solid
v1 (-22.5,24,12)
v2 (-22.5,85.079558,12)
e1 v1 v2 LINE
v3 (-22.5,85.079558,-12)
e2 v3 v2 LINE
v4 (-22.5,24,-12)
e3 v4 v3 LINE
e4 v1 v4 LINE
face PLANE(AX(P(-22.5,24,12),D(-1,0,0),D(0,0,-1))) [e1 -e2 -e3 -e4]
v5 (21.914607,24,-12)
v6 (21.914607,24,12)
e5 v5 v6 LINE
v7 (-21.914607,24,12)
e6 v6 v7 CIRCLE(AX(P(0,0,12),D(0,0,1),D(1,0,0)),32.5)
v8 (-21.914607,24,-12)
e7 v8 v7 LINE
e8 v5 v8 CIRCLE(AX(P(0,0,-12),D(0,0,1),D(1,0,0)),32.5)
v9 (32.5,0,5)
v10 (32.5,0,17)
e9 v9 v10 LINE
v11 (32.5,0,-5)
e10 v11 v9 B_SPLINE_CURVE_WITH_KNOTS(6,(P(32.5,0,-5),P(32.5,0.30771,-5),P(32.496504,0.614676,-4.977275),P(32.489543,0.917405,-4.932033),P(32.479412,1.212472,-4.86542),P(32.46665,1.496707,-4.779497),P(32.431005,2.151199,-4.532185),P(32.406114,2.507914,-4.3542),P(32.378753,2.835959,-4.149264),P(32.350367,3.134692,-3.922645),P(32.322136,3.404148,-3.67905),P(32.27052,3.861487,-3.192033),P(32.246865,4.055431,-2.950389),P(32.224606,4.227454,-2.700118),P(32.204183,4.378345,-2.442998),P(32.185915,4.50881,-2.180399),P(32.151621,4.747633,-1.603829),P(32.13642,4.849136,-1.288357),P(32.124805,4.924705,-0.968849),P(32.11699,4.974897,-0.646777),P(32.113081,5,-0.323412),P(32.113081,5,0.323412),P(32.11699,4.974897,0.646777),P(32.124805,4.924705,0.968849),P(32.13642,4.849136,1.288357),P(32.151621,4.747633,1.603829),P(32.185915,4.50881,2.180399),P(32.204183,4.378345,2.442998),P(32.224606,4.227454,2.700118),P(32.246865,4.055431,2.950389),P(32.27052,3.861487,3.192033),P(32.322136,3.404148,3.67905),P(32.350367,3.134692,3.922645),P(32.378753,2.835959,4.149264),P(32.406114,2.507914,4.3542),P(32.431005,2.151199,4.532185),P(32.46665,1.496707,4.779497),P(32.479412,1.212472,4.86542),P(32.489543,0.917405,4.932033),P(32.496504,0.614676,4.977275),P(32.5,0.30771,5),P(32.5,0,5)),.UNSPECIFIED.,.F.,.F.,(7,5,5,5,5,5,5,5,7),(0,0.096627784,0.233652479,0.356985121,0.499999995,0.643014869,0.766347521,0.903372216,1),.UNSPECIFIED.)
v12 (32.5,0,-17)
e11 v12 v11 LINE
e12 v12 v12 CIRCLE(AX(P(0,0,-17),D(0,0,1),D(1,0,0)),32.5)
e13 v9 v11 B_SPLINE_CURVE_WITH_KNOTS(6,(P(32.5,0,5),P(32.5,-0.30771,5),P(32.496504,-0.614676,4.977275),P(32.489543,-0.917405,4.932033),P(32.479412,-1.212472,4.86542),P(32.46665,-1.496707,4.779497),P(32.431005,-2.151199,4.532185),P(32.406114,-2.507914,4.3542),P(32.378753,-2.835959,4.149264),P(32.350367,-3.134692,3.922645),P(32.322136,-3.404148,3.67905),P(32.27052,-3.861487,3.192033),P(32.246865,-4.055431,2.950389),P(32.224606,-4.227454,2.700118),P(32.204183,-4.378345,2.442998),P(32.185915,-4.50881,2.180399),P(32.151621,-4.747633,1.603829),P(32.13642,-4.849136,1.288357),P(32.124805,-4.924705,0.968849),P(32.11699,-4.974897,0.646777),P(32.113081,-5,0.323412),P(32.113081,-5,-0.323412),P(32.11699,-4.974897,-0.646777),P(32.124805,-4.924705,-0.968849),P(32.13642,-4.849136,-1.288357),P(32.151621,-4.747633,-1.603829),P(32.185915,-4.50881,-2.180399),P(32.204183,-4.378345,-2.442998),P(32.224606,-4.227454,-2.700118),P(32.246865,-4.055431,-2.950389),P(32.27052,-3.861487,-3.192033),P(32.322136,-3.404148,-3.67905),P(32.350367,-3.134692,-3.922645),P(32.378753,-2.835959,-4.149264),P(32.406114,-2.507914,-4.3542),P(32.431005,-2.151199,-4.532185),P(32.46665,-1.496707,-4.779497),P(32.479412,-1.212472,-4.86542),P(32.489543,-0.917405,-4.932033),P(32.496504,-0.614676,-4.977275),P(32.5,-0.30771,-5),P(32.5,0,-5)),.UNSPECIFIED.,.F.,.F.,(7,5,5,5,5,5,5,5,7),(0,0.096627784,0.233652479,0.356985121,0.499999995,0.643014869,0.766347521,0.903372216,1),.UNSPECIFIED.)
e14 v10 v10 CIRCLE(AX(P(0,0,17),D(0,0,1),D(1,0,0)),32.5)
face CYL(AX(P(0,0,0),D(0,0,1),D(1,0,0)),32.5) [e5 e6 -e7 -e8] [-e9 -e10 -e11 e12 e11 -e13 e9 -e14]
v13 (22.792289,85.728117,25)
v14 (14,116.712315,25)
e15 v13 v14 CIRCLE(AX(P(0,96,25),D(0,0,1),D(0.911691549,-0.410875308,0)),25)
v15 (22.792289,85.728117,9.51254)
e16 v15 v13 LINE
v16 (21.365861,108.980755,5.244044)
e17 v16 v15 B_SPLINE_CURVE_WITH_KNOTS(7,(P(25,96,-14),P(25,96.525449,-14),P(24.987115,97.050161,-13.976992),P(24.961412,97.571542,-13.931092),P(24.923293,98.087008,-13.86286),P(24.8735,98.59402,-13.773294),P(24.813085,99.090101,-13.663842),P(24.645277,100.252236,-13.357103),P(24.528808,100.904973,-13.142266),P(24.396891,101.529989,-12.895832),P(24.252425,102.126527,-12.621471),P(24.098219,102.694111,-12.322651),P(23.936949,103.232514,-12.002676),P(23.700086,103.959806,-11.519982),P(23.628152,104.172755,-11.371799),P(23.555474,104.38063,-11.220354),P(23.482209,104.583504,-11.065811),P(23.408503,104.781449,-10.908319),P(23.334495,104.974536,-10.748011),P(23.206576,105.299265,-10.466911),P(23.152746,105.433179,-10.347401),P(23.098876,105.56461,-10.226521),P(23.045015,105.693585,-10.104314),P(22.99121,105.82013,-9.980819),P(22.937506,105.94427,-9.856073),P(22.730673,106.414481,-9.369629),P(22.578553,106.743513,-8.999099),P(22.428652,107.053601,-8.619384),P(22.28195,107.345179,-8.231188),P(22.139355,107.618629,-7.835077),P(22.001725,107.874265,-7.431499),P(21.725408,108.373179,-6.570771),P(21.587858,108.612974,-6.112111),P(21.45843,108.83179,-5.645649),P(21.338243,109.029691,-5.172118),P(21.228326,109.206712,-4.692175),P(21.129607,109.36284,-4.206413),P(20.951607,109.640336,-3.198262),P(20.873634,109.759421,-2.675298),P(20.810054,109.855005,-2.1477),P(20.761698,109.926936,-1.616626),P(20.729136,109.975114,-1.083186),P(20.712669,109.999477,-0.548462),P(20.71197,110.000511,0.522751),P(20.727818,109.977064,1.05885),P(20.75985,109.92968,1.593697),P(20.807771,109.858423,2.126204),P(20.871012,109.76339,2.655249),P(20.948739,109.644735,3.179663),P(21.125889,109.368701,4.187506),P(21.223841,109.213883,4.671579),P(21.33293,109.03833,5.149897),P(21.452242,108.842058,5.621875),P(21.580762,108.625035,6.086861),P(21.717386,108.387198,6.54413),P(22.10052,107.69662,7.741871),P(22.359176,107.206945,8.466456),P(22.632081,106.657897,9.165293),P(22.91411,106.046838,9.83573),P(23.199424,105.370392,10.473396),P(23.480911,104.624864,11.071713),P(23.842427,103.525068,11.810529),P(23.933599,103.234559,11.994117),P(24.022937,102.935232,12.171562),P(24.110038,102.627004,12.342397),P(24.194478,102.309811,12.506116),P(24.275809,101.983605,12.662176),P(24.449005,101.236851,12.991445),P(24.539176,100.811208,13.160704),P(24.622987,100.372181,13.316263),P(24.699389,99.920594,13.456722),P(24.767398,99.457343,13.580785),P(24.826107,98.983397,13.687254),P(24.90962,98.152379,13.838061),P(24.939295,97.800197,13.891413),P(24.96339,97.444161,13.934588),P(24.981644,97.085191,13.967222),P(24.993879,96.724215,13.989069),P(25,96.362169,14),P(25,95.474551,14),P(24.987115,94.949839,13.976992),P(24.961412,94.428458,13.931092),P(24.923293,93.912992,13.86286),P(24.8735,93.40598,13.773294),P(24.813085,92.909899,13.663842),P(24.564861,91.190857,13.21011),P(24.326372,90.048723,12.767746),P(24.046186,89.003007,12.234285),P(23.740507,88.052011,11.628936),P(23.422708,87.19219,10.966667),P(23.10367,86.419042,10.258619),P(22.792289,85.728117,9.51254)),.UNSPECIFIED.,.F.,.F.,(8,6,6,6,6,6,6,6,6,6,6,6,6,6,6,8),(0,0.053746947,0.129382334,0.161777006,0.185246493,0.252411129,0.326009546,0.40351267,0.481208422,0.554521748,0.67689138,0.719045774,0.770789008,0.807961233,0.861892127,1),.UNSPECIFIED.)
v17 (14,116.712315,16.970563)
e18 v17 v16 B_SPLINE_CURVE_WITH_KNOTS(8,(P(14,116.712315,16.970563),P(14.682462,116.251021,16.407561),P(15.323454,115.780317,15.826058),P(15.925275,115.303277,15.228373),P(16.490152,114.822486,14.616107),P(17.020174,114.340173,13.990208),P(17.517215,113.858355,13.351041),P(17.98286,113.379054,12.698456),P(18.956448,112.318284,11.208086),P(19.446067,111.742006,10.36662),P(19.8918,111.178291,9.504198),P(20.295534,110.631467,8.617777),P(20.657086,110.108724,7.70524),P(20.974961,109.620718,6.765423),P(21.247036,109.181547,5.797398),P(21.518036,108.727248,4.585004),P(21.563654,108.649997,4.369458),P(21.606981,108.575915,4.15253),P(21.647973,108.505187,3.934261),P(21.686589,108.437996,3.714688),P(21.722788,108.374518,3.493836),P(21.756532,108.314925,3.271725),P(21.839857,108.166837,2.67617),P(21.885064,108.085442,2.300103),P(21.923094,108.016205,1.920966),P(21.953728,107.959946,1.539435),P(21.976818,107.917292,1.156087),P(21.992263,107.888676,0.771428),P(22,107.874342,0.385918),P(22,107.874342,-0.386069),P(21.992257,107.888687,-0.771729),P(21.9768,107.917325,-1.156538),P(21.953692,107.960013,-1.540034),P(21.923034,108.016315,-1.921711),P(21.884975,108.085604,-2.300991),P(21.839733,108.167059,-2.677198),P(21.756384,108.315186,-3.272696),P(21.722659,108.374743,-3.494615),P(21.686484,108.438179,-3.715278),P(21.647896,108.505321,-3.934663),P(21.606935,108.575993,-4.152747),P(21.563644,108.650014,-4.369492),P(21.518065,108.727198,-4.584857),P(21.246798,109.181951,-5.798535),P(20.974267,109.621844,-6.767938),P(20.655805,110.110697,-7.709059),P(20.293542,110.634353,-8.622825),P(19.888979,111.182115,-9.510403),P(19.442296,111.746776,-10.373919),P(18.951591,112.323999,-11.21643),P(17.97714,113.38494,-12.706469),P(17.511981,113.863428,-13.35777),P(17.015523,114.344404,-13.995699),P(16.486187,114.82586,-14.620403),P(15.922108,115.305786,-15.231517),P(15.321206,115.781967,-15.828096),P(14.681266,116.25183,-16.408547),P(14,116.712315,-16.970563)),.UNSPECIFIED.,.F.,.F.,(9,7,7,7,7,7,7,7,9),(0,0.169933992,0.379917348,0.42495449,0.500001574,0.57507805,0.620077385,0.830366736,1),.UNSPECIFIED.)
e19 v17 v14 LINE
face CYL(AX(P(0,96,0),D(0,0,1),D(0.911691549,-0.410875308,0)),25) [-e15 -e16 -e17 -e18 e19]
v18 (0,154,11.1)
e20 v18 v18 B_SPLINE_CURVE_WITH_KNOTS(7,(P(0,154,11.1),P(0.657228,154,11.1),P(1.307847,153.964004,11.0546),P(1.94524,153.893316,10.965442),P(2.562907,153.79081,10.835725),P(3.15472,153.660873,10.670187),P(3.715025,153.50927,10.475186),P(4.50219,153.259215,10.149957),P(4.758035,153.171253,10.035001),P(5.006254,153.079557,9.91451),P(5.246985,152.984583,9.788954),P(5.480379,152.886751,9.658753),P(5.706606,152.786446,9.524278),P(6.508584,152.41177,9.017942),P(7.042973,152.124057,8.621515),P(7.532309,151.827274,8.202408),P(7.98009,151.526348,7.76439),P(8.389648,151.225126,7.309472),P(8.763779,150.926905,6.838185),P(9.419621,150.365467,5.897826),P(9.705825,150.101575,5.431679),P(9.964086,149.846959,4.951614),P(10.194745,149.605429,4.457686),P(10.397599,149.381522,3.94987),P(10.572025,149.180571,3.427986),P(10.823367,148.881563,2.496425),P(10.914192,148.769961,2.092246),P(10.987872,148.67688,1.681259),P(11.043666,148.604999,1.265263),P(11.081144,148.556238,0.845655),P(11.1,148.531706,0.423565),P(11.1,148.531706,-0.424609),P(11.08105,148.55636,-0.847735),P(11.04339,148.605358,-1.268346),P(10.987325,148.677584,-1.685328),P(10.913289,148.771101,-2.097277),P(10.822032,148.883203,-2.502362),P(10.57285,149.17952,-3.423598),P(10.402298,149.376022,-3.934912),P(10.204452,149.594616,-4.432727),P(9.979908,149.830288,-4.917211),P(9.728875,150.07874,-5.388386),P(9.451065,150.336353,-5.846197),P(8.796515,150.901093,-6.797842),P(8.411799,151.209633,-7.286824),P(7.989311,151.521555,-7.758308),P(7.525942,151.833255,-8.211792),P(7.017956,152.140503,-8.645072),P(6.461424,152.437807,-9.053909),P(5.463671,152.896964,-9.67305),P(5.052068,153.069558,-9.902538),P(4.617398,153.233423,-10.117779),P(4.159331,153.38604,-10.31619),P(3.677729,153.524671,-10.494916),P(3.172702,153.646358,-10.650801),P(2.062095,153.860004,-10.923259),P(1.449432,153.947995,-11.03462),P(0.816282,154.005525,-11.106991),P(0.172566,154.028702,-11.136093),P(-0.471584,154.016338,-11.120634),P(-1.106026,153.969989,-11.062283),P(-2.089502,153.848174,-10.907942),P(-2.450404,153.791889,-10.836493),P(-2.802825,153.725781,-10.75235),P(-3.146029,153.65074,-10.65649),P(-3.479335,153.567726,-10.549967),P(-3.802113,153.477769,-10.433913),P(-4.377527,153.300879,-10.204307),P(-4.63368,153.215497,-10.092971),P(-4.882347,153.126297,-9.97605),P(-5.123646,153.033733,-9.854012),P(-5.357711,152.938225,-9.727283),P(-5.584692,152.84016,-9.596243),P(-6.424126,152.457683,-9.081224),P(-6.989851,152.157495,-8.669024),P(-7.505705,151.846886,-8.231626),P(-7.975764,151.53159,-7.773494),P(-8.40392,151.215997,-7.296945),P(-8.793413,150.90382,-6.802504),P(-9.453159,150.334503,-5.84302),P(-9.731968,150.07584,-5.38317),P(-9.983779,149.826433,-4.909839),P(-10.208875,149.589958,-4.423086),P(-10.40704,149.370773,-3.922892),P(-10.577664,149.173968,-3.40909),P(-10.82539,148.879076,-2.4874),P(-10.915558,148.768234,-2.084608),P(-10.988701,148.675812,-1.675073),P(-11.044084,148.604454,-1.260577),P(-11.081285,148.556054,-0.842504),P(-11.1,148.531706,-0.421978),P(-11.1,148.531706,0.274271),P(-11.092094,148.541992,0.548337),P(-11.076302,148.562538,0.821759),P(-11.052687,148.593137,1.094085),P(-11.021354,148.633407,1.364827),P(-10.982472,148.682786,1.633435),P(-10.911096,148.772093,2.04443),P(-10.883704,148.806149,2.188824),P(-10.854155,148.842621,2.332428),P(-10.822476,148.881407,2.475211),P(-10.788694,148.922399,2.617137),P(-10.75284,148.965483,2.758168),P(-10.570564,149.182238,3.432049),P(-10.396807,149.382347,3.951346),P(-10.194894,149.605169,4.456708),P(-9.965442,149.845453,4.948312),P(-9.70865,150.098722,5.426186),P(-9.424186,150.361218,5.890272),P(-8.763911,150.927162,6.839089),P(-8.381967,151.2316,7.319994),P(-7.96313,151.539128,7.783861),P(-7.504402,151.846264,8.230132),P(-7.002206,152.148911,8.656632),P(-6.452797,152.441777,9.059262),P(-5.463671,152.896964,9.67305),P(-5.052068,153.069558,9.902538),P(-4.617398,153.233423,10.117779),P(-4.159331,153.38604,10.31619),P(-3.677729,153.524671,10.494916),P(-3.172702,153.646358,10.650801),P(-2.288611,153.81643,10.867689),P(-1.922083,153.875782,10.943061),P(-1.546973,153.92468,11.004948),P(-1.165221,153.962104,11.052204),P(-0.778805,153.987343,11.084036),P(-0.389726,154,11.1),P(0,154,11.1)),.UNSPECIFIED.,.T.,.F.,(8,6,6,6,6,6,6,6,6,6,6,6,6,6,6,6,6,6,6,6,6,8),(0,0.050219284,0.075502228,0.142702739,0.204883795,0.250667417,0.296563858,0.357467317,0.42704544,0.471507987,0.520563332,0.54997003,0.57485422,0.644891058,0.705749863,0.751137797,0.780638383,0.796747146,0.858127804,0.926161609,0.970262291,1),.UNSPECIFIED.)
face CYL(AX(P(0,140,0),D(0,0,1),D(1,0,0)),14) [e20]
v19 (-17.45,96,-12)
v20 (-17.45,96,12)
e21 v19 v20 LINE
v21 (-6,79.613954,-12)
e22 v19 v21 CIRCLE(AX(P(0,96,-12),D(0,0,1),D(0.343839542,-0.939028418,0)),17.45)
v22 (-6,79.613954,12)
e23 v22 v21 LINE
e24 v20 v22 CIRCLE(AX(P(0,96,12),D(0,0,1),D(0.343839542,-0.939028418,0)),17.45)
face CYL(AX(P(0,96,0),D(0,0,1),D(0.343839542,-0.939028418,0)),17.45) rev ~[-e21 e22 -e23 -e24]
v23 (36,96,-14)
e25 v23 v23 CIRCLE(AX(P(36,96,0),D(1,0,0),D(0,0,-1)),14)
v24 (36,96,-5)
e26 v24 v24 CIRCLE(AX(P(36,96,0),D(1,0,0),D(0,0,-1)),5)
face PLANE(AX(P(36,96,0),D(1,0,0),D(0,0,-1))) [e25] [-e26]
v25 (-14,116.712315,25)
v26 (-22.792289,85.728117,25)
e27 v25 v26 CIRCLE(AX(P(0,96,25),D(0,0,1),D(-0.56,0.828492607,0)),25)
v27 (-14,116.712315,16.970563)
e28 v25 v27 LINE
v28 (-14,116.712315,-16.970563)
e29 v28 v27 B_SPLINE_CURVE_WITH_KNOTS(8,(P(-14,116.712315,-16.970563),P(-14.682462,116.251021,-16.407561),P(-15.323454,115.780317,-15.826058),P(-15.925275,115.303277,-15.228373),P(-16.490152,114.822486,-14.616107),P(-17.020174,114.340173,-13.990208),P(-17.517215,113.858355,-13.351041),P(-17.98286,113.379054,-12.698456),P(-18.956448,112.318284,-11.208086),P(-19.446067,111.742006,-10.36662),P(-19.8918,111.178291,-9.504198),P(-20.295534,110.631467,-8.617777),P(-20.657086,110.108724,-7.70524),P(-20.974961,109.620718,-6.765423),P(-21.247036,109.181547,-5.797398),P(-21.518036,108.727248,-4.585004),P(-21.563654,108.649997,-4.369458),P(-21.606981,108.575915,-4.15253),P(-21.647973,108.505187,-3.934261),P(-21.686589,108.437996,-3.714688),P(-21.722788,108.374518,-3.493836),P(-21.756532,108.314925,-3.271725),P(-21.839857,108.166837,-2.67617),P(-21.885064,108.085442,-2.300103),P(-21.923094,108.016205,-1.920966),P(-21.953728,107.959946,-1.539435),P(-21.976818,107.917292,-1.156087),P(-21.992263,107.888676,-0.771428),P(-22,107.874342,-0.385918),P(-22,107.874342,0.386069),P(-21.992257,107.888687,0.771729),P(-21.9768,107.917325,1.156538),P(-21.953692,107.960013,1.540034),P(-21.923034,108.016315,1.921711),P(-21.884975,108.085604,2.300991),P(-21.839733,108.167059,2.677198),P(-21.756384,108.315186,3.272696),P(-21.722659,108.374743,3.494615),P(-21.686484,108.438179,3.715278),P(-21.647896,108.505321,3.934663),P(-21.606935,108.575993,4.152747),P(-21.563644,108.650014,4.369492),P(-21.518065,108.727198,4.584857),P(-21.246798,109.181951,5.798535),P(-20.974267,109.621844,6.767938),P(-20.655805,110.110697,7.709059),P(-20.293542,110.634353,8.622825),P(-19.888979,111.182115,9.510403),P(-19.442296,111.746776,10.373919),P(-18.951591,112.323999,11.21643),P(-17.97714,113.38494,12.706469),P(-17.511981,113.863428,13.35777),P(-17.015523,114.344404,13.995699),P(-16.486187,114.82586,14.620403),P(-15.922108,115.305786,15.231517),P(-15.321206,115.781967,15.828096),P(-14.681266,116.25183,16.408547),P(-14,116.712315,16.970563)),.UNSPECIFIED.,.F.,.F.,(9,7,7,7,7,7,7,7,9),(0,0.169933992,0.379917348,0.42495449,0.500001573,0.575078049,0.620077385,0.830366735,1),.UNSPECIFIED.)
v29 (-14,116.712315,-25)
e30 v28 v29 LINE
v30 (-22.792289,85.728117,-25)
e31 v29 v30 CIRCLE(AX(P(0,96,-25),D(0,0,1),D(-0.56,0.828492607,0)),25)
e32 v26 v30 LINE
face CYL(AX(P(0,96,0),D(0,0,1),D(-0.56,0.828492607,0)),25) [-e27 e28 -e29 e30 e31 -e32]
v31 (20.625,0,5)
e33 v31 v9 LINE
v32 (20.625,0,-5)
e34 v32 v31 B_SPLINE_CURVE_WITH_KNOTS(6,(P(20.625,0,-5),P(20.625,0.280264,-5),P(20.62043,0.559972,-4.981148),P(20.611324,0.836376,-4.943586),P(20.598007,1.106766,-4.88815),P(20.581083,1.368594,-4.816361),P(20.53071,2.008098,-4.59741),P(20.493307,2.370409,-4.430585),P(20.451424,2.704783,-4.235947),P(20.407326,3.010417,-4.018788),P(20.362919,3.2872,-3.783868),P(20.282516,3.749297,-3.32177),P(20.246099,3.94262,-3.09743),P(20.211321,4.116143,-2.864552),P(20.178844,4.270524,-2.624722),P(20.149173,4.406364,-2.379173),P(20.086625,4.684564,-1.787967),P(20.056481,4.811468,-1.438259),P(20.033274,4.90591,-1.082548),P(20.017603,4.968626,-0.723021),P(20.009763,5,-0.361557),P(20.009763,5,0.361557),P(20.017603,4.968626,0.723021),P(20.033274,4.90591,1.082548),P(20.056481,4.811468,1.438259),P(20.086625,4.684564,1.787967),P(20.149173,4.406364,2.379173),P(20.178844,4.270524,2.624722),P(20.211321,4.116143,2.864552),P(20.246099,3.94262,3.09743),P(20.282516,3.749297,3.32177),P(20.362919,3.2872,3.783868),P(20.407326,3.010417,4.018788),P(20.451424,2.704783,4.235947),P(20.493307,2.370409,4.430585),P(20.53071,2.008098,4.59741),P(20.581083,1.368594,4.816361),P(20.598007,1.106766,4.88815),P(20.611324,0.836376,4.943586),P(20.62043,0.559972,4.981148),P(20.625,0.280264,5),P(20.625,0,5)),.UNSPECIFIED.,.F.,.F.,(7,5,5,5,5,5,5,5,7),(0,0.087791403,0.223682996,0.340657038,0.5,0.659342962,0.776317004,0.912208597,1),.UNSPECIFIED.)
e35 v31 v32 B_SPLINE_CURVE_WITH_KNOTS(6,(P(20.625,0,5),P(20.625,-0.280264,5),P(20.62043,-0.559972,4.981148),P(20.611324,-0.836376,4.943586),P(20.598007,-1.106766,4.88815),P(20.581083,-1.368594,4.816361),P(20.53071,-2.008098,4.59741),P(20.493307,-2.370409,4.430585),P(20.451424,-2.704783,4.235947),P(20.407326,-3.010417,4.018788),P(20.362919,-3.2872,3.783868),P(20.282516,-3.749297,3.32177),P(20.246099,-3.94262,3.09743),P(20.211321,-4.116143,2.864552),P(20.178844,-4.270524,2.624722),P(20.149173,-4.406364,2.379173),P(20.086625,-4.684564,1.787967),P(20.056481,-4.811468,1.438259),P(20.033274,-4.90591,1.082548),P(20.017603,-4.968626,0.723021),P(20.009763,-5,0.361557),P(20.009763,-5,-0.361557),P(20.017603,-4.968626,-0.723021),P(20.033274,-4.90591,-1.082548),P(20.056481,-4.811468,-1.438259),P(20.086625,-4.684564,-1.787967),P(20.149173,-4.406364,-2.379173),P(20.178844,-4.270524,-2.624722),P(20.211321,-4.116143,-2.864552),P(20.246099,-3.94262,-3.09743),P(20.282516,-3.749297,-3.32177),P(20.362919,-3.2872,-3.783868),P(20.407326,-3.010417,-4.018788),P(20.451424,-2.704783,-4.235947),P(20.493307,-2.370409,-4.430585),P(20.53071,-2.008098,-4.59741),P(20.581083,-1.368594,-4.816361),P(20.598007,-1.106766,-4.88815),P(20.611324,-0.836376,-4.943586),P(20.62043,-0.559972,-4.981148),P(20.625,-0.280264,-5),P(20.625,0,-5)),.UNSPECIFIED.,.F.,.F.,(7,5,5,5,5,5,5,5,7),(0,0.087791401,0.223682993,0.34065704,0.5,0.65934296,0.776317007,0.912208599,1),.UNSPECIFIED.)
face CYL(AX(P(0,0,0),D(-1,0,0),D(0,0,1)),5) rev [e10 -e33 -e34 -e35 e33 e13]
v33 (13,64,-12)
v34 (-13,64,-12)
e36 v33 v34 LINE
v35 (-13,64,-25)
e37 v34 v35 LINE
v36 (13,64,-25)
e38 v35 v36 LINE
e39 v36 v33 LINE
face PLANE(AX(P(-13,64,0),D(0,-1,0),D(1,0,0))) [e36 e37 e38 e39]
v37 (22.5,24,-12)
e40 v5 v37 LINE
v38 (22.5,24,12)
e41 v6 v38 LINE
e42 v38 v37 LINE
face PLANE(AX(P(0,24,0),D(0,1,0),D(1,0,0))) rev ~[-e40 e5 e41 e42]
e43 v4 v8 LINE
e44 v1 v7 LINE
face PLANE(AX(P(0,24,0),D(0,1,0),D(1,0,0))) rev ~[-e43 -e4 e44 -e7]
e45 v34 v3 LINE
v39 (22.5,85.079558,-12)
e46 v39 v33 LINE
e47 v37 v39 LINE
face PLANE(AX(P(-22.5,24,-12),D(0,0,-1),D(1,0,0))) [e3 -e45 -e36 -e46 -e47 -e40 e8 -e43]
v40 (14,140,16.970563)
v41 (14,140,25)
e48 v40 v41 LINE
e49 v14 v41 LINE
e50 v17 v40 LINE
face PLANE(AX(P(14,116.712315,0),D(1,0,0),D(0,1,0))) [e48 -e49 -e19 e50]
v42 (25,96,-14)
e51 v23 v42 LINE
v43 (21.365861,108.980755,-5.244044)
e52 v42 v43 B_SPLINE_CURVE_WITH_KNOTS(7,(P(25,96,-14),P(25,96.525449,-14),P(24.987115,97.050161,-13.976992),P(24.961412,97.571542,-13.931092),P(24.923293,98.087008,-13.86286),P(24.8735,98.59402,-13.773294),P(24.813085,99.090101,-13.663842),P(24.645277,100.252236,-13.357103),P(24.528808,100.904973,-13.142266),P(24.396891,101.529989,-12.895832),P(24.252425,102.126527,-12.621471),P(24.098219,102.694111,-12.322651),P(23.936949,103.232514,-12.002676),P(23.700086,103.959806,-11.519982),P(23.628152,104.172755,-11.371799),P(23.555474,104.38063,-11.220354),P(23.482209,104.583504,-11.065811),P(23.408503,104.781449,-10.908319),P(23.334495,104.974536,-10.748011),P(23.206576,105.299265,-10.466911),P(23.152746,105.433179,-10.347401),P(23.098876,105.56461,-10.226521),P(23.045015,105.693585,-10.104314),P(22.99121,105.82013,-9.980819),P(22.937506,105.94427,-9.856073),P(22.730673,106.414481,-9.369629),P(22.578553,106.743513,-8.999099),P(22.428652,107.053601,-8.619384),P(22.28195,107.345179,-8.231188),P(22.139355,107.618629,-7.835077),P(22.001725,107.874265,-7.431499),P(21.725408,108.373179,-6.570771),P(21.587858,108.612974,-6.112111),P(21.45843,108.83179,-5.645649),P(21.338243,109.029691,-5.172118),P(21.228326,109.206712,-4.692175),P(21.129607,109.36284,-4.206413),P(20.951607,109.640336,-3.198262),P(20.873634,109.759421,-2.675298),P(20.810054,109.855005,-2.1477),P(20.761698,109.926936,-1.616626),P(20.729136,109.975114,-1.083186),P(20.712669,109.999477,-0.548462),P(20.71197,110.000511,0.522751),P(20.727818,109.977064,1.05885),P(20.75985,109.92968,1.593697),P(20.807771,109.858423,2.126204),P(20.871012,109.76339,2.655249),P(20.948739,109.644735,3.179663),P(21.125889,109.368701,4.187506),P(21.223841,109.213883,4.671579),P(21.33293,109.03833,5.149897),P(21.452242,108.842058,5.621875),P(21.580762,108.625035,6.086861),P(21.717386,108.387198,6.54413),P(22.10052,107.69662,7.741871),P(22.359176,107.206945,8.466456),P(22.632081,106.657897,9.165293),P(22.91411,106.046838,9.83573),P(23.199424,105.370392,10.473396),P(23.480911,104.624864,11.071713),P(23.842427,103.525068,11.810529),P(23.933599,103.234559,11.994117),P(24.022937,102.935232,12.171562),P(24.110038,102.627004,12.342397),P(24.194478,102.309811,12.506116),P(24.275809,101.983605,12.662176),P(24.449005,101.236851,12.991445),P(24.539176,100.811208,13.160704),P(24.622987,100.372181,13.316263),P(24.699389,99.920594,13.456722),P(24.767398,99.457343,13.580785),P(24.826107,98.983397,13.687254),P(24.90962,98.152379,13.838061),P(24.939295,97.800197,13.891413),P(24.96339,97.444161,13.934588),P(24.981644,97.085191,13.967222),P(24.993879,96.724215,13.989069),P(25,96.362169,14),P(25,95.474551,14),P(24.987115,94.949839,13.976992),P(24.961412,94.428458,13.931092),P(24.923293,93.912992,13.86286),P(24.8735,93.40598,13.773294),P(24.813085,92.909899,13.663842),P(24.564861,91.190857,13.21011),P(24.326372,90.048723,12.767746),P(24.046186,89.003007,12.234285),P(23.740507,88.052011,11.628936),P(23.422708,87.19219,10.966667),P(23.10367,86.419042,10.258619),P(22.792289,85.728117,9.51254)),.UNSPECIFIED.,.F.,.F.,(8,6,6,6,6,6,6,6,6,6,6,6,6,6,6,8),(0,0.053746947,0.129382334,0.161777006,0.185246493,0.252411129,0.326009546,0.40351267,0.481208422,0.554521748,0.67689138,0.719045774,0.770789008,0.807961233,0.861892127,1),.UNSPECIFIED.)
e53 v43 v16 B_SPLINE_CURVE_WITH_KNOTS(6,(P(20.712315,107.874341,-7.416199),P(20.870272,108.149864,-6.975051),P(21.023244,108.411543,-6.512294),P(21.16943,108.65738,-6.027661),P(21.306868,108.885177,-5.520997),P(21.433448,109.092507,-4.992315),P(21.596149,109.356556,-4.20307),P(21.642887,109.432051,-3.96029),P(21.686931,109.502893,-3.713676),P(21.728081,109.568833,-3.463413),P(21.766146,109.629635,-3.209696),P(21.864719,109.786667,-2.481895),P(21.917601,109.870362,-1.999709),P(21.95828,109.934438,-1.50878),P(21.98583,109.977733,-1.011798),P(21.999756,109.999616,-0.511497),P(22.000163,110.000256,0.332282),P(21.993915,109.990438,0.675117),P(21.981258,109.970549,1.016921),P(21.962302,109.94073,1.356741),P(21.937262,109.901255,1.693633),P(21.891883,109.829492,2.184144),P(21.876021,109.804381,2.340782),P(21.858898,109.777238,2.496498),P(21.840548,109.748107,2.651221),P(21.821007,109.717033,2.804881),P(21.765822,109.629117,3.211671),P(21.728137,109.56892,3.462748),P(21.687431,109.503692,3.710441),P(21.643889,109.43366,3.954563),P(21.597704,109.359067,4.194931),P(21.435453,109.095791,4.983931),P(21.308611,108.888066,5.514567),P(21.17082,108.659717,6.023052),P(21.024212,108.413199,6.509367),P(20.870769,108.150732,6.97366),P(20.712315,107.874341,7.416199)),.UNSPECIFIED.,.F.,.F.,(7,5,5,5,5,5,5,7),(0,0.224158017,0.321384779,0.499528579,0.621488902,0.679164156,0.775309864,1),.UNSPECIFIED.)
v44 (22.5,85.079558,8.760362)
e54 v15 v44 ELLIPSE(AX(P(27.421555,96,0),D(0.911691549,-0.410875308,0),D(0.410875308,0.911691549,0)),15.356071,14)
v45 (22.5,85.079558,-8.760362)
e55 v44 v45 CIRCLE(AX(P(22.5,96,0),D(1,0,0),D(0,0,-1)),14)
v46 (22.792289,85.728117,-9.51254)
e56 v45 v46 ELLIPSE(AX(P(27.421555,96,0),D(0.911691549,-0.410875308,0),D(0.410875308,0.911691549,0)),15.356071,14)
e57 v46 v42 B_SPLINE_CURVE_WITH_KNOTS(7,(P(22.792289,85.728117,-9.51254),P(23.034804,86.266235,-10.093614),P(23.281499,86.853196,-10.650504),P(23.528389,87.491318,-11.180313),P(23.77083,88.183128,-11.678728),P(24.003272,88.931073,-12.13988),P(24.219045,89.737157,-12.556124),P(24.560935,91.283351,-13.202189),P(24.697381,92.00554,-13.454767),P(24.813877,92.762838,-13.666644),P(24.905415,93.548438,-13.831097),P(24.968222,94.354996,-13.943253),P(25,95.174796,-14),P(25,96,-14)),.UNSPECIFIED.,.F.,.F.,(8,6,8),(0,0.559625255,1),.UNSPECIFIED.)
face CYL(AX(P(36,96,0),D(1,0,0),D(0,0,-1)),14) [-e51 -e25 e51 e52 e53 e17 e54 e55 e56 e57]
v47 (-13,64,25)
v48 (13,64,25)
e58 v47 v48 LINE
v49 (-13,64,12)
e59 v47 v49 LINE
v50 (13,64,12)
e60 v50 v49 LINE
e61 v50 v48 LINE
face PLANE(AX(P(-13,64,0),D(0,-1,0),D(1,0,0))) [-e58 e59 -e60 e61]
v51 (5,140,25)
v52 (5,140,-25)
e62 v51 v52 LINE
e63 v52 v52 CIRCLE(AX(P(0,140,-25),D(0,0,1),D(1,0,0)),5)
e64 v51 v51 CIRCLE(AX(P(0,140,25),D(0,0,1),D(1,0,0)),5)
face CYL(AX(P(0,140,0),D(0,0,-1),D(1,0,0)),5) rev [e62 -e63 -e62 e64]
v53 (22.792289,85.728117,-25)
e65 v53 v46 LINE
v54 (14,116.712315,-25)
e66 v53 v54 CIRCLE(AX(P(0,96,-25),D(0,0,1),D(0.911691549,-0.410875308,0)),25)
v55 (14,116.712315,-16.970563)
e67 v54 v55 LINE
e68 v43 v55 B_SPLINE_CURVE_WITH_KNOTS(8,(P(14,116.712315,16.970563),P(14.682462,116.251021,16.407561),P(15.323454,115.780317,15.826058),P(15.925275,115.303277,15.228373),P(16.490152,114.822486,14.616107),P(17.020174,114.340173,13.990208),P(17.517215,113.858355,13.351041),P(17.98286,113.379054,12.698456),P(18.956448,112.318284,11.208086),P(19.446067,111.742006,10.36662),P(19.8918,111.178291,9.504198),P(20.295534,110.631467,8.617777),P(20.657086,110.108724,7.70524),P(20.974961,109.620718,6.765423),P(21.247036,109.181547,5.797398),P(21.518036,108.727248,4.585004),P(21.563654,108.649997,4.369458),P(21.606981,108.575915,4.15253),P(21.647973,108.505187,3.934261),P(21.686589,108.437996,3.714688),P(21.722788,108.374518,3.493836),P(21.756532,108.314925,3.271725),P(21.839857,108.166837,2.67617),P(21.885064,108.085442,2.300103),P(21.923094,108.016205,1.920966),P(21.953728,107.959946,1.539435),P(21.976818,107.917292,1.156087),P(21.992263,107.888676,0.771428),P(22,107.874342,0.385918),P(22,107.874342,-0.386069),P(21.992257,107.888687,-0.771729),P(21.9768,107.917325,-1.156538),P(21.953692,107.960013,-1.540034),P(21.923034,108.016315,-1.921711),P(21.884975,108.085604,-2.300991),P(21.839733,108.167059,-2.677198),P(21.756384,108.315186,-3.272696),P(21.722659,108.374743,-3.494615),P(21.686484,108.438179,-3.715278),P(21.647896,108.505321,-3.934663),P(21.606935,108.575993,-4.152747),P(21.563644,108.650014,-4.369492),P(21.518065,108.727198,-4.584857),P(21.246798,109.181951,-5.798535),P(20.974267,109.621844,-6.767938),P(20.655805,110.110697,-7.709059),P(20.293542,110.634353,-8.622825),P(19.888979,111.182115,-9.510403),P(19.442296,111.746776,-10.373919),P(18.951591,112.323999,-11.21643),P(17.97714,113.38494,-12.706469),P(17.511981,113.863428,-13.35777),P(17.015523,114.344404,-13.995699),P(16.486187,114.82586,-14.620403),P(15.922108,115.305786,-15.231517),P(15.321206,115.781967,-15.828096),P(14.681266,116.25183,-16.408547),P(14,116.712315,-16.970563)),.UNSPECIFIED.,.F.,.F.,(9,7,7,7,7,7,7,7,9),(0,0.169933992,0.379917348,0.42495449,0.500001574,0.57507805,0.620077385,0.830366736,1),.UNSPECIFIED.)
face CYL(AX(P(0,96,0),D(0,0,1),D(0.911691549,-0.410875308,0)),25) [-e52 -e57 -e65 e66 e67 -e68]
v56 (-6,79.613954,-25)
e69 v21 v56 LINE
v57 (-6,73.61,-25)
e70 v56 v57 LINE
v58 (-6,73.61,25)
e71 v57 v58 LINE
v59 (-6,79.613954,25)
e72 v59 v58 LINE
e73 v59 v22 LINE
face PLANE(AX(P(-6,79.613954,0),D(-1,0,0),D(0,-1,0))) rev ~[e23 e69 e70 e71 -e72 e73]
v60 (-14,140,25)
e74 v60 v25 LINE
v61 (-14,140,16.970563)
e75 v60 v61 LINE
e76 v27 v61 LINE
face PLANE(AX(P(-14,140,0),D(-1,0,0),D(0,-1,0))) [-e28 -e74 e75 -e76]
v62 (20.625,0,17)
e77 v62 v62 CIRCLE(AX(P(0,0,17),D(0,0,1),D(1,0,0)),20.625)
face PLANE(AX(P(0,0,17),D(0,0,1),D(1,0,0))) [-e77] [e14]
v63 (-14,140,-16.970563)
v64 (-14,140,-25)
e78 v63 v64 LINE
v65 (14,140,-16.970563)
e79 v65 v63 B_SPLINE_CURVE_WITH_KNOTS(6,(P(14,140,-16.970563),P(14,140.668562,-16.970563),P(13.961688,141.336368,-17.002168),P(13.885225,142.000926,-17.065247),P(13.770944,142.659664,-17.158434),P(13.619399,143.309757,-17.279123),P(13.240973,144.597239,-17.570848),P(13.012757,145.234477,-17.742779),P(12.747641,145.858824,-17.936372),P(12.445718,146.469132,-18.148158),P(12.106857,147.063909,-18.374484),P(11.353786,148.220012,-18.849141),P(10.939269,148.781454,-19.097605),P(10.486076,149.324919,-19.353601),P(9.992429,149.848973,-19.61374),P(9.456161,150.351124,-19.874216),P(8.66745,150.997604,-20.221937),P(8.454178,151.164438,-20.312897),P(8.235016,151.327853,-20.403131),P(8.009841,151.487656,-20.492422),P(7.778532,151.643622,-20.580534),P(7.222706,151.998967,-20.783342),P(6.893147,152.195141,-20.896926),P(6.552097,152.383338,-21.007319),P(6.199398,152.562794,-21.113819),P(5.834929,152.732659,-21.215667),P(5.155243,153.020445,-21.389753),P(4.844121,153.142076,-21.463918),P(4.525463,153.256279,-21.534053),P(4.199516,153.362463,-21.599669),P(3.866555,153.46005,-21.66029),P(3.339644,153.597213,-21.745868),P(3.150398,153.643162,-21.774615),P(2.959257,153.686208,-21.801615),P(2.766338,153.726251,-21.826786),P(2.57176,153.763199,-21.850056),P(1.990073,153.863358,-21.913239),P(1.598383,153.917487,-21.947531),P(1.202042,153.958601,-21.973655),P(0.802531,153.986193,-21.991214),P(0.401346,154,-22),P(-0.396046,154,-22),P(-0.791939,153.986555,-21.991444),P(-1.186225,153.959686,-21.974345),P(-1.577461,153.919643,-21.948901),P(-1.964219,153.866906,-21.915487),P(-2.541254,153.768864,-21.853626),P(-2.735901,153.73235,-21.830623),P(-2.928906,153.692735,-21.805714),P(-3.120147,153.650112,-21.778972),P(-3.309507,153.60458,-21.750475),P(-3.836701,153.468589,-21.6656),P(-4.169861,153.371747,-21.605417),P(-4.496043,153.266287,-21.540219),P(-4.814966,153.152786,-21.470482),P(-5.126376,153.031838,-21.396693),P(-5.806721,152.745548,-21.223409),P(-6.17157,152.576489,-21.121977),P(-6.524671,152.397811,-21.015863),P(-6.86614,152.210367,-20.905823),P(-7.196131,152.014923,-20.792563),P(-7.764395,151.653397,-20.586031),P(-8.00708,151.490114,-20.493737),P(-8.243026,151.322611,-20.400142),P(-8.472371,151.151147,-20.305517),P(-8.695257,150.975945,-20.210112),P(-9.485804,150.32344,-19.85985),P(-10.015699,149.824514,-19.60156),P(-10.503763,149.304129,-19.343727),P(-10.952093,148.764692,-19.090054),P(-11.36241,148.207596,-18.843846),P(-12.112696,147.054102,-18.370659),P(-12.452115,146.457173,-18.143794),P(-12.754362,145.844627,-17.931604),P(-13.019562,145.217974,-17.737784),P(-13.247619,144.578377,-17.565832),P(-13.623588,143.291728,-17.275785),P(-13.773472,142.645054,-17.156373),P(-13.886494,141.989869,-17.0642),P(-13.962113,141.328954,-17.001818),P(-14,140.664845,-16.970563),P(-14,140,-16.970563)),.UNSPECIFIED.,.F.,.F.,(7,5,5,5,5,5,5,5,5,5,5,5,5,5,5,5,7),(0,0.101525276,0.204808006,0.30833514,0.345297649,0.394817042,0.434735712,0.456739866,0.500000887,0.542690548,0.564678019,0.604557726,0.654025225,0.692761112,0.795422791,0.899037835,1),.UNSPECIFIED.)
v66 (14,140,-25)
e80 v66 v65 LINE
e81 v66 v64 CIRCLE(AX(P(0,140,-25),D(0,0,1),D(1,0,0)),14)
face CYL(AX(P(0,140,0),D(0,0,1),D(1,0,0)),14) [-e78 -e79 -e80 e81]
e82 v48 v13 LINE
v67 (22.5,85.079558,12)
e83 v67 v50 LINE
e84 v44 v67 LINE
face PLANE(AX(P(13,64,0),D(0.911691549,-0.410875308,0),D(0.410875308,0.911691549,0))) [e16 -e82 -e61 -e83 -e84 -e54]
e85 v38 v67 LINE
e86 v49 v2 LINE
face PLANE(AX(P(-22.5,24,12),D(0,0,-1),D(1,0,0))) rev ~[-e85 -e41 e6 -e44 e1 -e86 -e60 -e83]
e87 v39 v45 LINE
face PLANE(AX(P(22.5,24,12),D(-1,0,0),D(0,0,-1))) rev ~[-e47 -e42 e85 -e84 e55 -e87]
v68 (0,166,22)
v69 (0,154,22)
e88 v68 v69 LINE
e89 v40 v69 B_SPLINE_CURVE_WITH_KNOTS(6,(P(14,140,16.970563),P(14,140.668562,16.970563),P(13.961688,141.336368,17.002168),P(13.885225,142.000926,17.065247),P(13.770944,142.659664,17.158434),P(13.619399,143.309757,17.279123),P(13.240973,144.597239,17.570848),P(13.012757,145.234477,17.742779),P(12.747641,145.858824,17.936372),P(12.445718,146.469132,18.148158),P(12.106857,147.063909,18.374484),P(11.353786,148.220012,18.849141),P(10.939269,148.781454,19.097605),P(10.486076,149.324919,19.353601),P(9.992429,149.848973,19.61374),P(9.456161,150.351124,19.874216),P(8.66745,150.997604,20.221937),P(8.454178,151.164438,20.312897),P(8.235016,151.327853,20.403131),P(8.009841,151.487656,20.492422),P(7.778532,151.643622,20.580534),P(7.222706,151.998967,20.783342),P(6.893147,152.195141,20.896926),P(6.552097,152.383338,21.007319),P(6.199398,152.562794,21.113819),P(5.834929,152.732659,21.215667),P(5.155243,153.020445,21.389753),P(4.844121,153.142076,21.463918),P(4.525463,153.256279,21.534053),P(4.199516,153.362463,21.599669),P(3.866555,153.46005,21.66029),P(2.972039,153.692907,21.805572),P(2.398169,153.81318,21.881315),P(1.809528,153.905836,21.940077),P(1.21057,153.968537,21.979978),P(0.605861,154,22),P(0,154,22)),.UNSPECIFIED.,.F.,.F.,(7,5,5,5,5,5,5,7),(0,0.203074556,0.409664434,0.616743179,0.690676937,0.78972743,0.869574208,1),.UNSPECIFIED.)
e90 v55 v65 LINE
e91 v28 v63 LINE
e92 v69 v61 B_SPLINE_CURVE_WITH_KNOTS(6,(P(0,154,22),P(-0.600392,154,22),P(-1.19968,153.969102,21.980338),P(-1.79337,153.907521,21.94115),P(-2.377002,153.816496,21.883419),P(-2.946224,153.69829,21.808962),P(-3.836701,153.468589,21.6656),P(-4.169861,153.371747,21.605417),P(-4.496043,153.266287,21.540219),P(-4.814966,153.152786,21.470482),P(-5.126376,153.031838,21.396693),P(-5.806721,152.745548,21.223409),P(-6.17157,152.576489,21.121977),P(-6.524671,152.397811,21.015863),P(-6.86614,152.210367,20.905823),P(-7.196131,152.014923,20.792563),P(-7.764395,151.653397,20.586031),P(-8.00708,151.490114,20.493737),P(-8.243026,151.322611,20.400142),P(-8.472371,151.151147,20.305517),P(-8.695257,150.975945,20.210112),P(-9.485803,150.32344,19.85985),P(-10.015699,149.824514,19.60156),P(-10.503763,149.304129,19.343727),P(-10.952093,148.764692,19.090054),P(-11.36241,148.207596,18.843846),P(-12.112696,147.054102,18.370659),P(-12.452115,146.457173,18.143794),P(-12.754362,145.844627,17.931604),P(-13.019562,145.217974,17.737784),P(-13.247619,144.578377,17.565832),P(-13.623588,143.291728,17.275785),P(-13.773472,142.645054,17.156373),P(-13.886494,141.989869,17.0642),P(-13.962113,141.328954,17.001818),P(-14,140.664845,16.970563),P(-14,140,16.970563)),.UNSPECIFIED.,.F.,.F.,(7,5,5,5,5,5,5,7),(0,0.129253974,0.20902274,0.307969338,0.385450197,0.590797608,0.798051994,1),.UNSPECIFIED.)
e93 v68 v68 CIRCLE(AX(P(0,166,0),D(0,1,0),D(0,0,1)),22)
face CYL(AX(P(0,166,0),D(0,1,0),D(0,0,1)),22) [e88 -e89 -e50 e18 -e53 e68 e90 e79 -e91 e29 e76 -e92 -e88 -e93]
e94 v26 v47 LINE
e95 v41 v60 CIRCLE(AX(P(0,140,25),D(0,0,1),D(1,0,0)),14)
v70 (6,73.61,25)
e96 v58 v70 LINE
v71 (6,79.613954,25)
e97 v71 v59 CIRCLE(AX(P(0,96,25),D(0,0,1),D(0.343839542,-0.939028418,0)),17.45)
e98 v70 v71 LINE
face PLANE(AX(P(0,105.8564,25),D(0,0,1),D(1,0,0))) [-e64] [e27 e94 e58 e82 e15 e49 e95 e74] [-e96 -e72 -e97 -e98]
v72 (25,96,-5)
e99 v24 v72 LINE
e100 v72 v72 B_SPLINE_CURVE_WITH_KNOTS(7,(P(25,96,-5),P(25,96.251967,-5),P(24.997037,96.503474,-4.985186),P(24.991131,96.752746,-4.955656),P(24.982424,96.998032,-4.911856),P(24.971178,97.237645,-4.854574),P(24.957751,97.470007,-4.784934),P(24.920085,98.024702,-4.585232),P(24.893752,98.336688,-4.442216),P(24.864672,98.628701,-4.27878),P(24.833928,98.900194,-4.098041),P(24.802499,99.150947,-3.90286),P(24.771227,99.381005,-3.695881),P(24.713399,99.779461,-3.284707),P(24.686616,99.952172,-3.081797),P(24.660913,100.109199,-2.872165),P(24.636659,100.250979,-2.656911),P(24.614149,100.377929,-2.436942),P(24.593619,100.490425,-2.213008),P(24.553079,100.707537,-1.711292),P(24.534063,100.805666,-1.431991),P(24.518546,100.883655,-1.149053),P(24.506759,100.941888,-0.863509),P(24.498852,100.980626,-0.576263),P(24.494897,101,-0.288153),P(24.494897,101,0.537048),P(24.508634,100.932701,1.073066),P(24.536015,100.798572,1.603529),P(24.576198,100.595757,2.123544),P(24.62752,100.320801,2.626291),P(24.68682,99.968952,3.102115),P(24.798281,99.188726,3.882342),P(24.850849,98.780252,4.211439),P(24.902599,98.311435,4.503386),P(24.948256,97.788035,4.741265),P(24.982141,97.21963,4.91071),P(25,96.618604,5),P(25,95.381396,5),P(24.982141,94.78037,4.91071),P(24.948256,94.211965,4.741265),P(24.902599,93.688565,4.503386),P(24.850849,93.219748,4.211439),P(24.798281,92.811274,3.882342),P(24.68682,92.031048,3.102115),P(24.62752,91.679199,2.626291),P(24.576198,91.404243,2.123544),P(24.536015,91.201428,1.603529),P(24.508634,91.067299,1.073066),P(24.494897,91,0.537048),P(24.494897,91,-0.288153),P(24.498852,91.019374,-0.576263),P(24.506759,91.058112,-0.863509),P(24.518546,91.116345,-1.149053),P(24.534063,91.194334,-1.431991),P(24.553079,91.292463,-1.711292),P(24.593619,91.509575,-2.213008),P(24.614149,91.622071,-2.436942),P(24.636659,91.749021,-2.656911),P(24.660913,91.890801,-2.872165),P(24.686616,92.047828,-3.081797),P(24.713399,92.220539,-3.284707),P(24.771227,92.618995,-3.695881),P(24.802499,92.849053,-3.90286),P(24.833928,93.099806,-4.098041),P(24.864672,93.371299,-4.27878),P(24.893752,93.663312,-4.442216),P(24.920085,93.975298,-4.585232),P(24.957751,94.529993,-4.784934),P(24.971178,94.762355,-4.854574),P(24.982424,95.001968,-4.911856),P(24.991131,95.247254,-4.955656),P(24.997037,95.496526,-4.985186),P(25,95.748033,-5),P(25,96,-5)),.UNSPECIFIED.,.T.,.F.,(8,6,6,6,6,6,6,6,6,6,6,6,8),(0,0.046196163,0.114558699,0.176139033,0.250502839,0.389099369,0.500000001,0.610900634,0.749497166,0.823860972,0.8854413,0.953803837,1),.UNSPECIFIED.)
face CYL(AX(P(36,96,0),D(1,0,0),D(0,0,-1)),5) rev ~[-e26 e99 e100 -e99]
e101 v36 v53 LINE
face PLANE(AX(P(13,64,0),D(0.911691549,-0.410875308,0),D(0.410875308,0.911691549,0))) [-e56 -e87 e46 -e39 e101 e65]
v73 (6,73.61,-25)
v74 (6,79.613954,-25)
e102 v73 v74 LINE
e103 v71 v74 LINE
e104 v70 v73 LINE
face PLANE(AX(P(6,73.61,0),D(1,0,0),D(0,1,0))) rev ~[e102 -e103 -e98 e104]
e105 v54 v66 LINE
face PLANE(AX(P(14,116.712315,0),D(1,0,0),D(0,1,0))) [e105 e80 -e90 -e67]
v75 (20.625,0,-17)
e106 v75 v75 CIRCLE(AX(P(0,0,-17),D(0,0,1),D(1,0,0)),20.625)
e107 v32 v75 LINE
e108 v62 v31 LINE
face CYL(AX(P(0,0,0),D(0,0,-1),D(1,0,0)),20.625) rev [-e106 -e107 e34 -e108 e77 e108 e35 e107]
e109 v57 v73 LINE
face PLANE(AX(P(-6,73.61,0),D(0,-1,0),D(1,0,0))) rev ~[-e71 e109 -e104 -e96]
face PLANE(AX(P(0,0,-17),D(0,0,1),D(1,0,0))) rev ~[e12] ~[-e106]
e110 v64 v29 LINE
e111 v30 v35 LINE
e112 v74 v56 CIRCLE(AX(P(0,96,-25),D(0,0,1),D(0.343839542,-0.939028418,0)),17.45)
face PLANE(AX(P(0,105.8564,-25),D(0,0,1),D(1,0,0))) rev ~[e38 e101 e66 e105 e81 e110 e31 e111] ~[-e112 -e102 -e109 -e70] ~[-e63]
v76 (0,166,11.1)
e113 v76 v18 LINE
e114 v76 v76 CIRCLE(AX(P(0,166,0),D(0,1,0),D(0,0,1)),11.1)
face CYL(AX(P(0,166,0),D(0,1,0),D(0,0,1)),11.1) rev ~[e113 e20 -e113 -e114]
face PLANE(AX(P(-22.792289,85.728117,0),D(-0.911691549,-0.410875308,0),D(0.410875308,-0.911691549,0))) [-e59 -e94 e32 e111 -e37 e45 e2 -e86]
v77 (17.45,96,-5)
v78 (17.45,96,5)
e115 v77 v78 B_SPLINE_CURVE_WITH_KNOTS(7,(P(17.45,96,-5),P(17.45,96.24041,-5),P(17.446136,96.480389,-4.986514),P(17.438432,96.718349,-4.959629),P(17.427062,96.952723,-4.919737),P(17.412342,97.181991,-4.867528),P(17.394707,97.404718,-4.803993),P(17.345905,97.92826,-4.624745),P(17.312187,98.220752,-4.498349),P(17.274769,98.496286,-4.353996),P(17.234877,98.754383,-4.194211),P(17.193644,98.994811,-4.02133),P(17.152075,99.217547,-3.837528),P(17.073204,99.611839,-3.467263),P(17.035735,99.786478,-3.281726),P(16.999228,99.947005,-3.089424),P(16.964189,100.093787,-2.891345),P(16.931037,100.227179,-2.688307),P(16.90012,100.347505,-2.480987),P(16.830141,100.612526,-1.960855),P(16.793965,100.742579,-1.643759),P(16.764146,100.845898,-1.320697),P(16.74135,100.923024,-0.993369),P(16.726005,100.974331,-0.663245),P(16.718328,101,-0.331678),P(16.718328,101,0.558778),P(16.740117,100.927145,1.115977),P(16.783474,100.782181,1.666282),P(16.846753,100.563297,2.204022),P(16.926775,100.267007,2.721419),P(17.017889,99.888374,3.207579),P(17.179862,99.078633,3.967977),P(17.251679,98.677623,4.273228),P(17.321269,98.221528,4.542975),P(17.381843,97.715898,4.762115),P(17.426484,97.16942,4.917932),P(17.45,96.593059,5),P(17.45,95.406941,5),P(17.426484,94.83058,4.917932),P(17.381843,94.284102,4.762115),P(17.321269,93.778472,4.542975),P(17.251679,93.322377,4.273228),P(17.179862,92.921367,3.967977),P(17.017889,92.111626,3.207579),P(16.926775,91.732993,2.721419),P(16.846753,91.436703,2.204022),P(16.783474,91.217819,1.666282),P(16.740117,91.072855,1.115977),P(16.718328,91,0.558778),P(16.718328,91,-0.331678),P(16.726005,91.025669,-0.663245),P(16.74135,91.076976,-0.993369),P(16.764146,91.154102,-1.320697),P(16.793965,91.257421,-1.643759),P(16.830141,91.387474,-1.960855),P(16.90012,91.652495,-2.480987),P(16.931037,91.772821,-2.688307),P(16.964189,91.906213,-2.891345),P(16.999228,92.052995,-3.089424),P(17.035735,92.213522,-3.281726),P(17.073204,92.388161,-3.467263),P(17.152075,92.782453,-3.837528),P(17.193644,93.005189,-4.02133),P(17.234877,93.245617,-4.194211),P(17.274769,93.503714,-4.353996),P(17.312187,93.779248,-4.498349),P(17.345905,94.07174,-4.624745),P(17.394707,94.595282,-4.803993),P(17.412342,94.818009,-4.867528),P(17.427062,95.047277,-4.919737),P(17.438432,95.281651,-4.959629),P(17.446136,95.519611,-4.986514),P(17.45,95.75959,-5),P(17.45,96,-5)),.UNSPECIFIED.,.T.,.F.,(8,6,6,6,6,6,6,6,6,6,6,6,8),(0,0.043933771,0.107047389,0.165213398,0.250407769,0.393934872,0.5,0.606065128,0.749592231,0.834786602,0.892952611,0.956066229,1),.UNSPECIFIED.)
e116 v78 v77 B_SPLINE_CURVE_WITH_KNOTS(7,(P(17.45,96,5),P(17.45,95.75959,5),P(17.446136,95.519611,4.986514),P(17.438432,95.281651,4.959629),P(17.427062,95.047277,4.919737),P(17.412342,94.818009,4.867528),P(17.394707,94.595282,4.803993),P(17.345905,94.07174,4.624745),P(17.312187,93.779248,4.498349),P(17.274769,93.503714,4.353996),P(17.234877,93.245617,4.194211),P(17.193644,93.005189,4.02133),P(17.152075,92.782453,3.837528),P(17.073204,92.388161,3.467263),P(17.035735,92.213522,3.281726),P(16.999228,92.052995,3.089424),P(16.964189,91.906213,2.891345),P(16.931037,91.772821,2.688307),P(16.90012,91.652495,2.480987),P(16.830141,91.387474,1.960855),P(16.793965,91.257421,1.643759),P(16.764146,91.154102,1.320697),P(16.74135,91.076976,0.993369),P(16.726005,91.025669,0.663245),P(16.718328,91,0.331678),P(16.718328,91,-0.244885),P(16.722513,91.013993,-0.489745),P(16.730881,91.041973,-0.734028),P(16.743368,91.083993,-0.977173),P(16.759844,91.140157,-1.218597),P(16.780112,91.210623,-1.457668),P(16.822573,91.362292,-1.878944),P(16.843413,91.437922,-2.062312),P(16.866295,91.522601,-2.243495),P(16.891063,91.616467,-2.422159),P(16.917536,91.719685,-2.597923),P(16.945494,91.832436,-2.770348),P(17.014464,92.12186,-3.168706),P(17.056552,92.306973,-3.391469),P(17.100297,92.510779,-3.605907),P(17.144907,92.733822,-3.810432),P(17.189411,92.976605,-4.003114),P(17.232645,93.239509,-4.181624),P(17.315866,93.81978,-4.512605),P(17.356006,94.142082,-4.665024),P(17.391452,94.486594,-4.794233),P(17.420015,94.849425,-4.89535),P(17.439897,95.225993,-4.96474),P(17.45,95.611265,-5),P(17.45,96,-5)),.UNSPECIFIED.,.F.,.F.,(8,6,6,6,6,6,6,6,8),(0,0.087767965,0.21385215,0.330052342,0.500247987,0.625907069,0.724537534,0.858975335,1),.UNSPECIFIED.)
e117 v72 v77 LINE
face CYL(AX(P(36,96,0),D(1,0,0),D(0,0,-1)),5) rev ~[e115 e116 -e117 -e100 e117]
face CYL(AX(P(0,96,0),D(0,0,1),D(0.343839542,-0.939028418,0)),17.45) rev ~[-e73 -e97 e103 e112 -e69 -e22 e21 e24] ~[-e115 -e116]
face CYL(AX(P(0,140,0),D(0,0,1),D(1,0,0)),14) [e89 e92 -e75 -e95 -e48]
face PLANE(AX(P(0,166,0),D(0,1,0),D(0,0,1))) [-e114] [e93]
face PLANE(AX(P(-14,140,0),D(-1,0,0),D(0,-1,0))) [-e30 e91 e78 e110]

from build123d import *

# Parameters (mm, degrees)
SKETCH1_R           = 32.5
SKETCH1_R_2         = 20.625
BOSS_EXTRUDE1_DEPTH = 17
BOSS_EXTRUDE2_START = 24
SKETCH2_W           = 45
SKETCH2_H           = 24
BOSS_EXTRUDE2_DEPTH = 72
SKETCH4_R           = 5
CUT_EXTRUDE1_DEPTH  = 103.767942472
SKETCH7_R           = 5
BOSS_EXTRUDE3_DEPTH = 25
BOSS_EXTRUDE4_REACH = 204.691
SKETCH8_R           = 22
SKETCH8_R_2         = 11.1
BOSS_EXTRUDE5_REACH = 183.31
SKETCH10_R          = 14
SKETCH10_R_2        = 5
SKETCH14_R          = 5
CUT_EXTRUDE3_DEPTH  = 34
CUT_EXTRUDE4_REACH  = 175.842


with BuildPart() as part:
    # Sketch1 → Boss-Extrude1 (new, symmetric)
    with BuildSketch(Plane.XY):
        Circle(SKETCH1_R)
        Circle(SKETCH1_R_2, mode=Mode.SUBTRACT)
    extrude(amount=BOSS_EXTRUDE1_DEPTH, both=True)

    # Sketch2 → Boss-Extrude2 (add)
    with BuildSketch(Plane(origin=(0, 0, 0), x_dir=(1, 0, 0), z_dir=(0, 1, 0)).offset(BOSS_EXTRUDE2_START)):
        Rectangle(SKETCH2_W, SKETCH2_H)
    extrude(amount=BOSS_EXTRUDE2_DEPTH)

    # Sketch4 → Cut-Extrude1 (cut, through all)
    with BuildSketch(Plane(origin=(0, 0, 0), x_dir=(0, 0, -1), z_dir=(1, 0, 0))):
        with Locations(Location((0, 0, 0), (0, 0, 180))):
            Circle(SKETCH4_R)
    extrude(amount=CUT_EXTRUDE1_DEPTH, mode=Mode.SUBTRACT)

    # Sketch7 → Boss-Extrude3 (add, symmetric)
    with BuildSketch(Plane.XY):
        with BuildLine():
            Line((-13, 64), (13, 64))
            Line((13, 64), (22.792288735, 85.728117298))
            ThreePointArc((22.792288735, 85.728117298), (24.050431537, 102.824715589), (14, 116.712315177))
            Line((14, 116.712315177), (14, 140))
            ThreePointArc((14, 140), (0, 154), (-14, 140))
            Line((-14, 140), (-14, 116.712315177))
            ThreePointArc((-14, 116.712315177), (-24.050431537, 102.824715589), (-22.792288735, 85.728117298))
            Line((-22.792288735, 85.728117298), (-13, 64))
        make_face()
        with Locations((0, 140)):
            Circle(SKETCH7_R, mode=Mode.SUBTRACT)
        with BuildLine():
            Line((-6, 73.61), (6, 73.61))
            Line((6, 73.61), (6, 79.613954107))
            ThreePointArc((6, 79.613954107), (0, 113.45), (-6, 79.613954107))
            Line((-6, 79.613954107), (-6, 73.61))
        make_face(mode=Mode.SUBTRACT)
    extrude(amount=BOSS_EXTRUDE3_DEPTH, both=True)

    # Sketch8 → Boss-Extrude4 (add, up to next)
    with BuildSketch(Plane(origin=(0, 166, 0), x_dir=(1, 0, 0), z_dir=(0, 1, 0)), mode=Mode.PRIVATE) as boss_extrude4_sk1:
        with Locations(Location((0, 0, 0), (0, 0, 270))):
            Circle(SKETCH8_R)
        with Locations(Location((0, 0, 0), (0, 0, 270))):
            Circle(SKETCH8_R_2, mode=Mode.SUBTRACT)
    boss_extrude4_tool1 = extrude(boss_extrude4_sk1.sketch, amount=-BOSS_EXTRUDE4_REACH, mode=Mode.PRIVATE) - part.part
    add(boss_extrude4_tool1.solids().sort_by_distance((0, 166, -21.377746))[0])

    # Sketch10 → Boss-Extrude5 (add, up to next)
    with BuildSketch(Plane(origin=(36, 0, 0), x_dir=(0, 0, -1), z_dir=(1, 0, 0)), mode=Mode.PRIVATE) as boss_extrude5_sk1:
        with Locations((0, 96)):
            Circle(SKETCH10_R)
        with Locations((0, 96)):
            Circle(SKETCH10_R_2, mode=Mode.SUBTRACT)
    boss_extrude5_tool1 = extrude(boss_extrude5_sk1.sketch, amount=-BOSS_EXTRUDE5_REACH, mode=Mode.PRIVATE) - part.part
    add(boss_extrude5_tool1.solids().sort_by_distance((36, 96, 13.60402))[0])

    # Sketch14 → Cut-Extrude3 (cut)
    with BuildSketch(Plane(origin=(36, 0, 0), x_dir=(0, 0, -1), z_dir=(1, 0, 0))):
        with Locations((0, 96)):
            Circle(SKETCH14_R)
    extrude(amount=-CUT_EXTRUDE3_DEPTH, mode=Mode.SUBTRACT)

    # Sketch15 → Cut-Extrude4 (cut, up to next)
    with BuildSketch(Plane.XY.offset(12), mode=Mode.PRIVATE) as cut_extrude4_sk1:
        with BuildLine():
            Line((6, 73.61), (6, 79.613954107))
            ThreePointArc((6, 79.613954107), (14.303889331, 86.00493872), (17.45, 96))
            Line((17.45, 96), (-17.45, 96))
            ThreePointArc((-17.45, 96), (-14.303889331, 86.00493872), (-6, 79.613954107))
            Line((-6, 79.613954107), (-6, 73.61))
            Line((-6, 73.61), (6, 73.61))
        make_face()
    cut_extrude4_tool1 = extrude(cut_extrude4_sk1.sketch, amount=-CUT_EXTRUDE4_REACH, mode=Mode.PRIVATE) & part.part
    add(cut_extrude4_tool1.solids().sort_by_distance((0, 87.149335, 12))[0], mode=Mode.SUBTRACT)


solid = part.part
